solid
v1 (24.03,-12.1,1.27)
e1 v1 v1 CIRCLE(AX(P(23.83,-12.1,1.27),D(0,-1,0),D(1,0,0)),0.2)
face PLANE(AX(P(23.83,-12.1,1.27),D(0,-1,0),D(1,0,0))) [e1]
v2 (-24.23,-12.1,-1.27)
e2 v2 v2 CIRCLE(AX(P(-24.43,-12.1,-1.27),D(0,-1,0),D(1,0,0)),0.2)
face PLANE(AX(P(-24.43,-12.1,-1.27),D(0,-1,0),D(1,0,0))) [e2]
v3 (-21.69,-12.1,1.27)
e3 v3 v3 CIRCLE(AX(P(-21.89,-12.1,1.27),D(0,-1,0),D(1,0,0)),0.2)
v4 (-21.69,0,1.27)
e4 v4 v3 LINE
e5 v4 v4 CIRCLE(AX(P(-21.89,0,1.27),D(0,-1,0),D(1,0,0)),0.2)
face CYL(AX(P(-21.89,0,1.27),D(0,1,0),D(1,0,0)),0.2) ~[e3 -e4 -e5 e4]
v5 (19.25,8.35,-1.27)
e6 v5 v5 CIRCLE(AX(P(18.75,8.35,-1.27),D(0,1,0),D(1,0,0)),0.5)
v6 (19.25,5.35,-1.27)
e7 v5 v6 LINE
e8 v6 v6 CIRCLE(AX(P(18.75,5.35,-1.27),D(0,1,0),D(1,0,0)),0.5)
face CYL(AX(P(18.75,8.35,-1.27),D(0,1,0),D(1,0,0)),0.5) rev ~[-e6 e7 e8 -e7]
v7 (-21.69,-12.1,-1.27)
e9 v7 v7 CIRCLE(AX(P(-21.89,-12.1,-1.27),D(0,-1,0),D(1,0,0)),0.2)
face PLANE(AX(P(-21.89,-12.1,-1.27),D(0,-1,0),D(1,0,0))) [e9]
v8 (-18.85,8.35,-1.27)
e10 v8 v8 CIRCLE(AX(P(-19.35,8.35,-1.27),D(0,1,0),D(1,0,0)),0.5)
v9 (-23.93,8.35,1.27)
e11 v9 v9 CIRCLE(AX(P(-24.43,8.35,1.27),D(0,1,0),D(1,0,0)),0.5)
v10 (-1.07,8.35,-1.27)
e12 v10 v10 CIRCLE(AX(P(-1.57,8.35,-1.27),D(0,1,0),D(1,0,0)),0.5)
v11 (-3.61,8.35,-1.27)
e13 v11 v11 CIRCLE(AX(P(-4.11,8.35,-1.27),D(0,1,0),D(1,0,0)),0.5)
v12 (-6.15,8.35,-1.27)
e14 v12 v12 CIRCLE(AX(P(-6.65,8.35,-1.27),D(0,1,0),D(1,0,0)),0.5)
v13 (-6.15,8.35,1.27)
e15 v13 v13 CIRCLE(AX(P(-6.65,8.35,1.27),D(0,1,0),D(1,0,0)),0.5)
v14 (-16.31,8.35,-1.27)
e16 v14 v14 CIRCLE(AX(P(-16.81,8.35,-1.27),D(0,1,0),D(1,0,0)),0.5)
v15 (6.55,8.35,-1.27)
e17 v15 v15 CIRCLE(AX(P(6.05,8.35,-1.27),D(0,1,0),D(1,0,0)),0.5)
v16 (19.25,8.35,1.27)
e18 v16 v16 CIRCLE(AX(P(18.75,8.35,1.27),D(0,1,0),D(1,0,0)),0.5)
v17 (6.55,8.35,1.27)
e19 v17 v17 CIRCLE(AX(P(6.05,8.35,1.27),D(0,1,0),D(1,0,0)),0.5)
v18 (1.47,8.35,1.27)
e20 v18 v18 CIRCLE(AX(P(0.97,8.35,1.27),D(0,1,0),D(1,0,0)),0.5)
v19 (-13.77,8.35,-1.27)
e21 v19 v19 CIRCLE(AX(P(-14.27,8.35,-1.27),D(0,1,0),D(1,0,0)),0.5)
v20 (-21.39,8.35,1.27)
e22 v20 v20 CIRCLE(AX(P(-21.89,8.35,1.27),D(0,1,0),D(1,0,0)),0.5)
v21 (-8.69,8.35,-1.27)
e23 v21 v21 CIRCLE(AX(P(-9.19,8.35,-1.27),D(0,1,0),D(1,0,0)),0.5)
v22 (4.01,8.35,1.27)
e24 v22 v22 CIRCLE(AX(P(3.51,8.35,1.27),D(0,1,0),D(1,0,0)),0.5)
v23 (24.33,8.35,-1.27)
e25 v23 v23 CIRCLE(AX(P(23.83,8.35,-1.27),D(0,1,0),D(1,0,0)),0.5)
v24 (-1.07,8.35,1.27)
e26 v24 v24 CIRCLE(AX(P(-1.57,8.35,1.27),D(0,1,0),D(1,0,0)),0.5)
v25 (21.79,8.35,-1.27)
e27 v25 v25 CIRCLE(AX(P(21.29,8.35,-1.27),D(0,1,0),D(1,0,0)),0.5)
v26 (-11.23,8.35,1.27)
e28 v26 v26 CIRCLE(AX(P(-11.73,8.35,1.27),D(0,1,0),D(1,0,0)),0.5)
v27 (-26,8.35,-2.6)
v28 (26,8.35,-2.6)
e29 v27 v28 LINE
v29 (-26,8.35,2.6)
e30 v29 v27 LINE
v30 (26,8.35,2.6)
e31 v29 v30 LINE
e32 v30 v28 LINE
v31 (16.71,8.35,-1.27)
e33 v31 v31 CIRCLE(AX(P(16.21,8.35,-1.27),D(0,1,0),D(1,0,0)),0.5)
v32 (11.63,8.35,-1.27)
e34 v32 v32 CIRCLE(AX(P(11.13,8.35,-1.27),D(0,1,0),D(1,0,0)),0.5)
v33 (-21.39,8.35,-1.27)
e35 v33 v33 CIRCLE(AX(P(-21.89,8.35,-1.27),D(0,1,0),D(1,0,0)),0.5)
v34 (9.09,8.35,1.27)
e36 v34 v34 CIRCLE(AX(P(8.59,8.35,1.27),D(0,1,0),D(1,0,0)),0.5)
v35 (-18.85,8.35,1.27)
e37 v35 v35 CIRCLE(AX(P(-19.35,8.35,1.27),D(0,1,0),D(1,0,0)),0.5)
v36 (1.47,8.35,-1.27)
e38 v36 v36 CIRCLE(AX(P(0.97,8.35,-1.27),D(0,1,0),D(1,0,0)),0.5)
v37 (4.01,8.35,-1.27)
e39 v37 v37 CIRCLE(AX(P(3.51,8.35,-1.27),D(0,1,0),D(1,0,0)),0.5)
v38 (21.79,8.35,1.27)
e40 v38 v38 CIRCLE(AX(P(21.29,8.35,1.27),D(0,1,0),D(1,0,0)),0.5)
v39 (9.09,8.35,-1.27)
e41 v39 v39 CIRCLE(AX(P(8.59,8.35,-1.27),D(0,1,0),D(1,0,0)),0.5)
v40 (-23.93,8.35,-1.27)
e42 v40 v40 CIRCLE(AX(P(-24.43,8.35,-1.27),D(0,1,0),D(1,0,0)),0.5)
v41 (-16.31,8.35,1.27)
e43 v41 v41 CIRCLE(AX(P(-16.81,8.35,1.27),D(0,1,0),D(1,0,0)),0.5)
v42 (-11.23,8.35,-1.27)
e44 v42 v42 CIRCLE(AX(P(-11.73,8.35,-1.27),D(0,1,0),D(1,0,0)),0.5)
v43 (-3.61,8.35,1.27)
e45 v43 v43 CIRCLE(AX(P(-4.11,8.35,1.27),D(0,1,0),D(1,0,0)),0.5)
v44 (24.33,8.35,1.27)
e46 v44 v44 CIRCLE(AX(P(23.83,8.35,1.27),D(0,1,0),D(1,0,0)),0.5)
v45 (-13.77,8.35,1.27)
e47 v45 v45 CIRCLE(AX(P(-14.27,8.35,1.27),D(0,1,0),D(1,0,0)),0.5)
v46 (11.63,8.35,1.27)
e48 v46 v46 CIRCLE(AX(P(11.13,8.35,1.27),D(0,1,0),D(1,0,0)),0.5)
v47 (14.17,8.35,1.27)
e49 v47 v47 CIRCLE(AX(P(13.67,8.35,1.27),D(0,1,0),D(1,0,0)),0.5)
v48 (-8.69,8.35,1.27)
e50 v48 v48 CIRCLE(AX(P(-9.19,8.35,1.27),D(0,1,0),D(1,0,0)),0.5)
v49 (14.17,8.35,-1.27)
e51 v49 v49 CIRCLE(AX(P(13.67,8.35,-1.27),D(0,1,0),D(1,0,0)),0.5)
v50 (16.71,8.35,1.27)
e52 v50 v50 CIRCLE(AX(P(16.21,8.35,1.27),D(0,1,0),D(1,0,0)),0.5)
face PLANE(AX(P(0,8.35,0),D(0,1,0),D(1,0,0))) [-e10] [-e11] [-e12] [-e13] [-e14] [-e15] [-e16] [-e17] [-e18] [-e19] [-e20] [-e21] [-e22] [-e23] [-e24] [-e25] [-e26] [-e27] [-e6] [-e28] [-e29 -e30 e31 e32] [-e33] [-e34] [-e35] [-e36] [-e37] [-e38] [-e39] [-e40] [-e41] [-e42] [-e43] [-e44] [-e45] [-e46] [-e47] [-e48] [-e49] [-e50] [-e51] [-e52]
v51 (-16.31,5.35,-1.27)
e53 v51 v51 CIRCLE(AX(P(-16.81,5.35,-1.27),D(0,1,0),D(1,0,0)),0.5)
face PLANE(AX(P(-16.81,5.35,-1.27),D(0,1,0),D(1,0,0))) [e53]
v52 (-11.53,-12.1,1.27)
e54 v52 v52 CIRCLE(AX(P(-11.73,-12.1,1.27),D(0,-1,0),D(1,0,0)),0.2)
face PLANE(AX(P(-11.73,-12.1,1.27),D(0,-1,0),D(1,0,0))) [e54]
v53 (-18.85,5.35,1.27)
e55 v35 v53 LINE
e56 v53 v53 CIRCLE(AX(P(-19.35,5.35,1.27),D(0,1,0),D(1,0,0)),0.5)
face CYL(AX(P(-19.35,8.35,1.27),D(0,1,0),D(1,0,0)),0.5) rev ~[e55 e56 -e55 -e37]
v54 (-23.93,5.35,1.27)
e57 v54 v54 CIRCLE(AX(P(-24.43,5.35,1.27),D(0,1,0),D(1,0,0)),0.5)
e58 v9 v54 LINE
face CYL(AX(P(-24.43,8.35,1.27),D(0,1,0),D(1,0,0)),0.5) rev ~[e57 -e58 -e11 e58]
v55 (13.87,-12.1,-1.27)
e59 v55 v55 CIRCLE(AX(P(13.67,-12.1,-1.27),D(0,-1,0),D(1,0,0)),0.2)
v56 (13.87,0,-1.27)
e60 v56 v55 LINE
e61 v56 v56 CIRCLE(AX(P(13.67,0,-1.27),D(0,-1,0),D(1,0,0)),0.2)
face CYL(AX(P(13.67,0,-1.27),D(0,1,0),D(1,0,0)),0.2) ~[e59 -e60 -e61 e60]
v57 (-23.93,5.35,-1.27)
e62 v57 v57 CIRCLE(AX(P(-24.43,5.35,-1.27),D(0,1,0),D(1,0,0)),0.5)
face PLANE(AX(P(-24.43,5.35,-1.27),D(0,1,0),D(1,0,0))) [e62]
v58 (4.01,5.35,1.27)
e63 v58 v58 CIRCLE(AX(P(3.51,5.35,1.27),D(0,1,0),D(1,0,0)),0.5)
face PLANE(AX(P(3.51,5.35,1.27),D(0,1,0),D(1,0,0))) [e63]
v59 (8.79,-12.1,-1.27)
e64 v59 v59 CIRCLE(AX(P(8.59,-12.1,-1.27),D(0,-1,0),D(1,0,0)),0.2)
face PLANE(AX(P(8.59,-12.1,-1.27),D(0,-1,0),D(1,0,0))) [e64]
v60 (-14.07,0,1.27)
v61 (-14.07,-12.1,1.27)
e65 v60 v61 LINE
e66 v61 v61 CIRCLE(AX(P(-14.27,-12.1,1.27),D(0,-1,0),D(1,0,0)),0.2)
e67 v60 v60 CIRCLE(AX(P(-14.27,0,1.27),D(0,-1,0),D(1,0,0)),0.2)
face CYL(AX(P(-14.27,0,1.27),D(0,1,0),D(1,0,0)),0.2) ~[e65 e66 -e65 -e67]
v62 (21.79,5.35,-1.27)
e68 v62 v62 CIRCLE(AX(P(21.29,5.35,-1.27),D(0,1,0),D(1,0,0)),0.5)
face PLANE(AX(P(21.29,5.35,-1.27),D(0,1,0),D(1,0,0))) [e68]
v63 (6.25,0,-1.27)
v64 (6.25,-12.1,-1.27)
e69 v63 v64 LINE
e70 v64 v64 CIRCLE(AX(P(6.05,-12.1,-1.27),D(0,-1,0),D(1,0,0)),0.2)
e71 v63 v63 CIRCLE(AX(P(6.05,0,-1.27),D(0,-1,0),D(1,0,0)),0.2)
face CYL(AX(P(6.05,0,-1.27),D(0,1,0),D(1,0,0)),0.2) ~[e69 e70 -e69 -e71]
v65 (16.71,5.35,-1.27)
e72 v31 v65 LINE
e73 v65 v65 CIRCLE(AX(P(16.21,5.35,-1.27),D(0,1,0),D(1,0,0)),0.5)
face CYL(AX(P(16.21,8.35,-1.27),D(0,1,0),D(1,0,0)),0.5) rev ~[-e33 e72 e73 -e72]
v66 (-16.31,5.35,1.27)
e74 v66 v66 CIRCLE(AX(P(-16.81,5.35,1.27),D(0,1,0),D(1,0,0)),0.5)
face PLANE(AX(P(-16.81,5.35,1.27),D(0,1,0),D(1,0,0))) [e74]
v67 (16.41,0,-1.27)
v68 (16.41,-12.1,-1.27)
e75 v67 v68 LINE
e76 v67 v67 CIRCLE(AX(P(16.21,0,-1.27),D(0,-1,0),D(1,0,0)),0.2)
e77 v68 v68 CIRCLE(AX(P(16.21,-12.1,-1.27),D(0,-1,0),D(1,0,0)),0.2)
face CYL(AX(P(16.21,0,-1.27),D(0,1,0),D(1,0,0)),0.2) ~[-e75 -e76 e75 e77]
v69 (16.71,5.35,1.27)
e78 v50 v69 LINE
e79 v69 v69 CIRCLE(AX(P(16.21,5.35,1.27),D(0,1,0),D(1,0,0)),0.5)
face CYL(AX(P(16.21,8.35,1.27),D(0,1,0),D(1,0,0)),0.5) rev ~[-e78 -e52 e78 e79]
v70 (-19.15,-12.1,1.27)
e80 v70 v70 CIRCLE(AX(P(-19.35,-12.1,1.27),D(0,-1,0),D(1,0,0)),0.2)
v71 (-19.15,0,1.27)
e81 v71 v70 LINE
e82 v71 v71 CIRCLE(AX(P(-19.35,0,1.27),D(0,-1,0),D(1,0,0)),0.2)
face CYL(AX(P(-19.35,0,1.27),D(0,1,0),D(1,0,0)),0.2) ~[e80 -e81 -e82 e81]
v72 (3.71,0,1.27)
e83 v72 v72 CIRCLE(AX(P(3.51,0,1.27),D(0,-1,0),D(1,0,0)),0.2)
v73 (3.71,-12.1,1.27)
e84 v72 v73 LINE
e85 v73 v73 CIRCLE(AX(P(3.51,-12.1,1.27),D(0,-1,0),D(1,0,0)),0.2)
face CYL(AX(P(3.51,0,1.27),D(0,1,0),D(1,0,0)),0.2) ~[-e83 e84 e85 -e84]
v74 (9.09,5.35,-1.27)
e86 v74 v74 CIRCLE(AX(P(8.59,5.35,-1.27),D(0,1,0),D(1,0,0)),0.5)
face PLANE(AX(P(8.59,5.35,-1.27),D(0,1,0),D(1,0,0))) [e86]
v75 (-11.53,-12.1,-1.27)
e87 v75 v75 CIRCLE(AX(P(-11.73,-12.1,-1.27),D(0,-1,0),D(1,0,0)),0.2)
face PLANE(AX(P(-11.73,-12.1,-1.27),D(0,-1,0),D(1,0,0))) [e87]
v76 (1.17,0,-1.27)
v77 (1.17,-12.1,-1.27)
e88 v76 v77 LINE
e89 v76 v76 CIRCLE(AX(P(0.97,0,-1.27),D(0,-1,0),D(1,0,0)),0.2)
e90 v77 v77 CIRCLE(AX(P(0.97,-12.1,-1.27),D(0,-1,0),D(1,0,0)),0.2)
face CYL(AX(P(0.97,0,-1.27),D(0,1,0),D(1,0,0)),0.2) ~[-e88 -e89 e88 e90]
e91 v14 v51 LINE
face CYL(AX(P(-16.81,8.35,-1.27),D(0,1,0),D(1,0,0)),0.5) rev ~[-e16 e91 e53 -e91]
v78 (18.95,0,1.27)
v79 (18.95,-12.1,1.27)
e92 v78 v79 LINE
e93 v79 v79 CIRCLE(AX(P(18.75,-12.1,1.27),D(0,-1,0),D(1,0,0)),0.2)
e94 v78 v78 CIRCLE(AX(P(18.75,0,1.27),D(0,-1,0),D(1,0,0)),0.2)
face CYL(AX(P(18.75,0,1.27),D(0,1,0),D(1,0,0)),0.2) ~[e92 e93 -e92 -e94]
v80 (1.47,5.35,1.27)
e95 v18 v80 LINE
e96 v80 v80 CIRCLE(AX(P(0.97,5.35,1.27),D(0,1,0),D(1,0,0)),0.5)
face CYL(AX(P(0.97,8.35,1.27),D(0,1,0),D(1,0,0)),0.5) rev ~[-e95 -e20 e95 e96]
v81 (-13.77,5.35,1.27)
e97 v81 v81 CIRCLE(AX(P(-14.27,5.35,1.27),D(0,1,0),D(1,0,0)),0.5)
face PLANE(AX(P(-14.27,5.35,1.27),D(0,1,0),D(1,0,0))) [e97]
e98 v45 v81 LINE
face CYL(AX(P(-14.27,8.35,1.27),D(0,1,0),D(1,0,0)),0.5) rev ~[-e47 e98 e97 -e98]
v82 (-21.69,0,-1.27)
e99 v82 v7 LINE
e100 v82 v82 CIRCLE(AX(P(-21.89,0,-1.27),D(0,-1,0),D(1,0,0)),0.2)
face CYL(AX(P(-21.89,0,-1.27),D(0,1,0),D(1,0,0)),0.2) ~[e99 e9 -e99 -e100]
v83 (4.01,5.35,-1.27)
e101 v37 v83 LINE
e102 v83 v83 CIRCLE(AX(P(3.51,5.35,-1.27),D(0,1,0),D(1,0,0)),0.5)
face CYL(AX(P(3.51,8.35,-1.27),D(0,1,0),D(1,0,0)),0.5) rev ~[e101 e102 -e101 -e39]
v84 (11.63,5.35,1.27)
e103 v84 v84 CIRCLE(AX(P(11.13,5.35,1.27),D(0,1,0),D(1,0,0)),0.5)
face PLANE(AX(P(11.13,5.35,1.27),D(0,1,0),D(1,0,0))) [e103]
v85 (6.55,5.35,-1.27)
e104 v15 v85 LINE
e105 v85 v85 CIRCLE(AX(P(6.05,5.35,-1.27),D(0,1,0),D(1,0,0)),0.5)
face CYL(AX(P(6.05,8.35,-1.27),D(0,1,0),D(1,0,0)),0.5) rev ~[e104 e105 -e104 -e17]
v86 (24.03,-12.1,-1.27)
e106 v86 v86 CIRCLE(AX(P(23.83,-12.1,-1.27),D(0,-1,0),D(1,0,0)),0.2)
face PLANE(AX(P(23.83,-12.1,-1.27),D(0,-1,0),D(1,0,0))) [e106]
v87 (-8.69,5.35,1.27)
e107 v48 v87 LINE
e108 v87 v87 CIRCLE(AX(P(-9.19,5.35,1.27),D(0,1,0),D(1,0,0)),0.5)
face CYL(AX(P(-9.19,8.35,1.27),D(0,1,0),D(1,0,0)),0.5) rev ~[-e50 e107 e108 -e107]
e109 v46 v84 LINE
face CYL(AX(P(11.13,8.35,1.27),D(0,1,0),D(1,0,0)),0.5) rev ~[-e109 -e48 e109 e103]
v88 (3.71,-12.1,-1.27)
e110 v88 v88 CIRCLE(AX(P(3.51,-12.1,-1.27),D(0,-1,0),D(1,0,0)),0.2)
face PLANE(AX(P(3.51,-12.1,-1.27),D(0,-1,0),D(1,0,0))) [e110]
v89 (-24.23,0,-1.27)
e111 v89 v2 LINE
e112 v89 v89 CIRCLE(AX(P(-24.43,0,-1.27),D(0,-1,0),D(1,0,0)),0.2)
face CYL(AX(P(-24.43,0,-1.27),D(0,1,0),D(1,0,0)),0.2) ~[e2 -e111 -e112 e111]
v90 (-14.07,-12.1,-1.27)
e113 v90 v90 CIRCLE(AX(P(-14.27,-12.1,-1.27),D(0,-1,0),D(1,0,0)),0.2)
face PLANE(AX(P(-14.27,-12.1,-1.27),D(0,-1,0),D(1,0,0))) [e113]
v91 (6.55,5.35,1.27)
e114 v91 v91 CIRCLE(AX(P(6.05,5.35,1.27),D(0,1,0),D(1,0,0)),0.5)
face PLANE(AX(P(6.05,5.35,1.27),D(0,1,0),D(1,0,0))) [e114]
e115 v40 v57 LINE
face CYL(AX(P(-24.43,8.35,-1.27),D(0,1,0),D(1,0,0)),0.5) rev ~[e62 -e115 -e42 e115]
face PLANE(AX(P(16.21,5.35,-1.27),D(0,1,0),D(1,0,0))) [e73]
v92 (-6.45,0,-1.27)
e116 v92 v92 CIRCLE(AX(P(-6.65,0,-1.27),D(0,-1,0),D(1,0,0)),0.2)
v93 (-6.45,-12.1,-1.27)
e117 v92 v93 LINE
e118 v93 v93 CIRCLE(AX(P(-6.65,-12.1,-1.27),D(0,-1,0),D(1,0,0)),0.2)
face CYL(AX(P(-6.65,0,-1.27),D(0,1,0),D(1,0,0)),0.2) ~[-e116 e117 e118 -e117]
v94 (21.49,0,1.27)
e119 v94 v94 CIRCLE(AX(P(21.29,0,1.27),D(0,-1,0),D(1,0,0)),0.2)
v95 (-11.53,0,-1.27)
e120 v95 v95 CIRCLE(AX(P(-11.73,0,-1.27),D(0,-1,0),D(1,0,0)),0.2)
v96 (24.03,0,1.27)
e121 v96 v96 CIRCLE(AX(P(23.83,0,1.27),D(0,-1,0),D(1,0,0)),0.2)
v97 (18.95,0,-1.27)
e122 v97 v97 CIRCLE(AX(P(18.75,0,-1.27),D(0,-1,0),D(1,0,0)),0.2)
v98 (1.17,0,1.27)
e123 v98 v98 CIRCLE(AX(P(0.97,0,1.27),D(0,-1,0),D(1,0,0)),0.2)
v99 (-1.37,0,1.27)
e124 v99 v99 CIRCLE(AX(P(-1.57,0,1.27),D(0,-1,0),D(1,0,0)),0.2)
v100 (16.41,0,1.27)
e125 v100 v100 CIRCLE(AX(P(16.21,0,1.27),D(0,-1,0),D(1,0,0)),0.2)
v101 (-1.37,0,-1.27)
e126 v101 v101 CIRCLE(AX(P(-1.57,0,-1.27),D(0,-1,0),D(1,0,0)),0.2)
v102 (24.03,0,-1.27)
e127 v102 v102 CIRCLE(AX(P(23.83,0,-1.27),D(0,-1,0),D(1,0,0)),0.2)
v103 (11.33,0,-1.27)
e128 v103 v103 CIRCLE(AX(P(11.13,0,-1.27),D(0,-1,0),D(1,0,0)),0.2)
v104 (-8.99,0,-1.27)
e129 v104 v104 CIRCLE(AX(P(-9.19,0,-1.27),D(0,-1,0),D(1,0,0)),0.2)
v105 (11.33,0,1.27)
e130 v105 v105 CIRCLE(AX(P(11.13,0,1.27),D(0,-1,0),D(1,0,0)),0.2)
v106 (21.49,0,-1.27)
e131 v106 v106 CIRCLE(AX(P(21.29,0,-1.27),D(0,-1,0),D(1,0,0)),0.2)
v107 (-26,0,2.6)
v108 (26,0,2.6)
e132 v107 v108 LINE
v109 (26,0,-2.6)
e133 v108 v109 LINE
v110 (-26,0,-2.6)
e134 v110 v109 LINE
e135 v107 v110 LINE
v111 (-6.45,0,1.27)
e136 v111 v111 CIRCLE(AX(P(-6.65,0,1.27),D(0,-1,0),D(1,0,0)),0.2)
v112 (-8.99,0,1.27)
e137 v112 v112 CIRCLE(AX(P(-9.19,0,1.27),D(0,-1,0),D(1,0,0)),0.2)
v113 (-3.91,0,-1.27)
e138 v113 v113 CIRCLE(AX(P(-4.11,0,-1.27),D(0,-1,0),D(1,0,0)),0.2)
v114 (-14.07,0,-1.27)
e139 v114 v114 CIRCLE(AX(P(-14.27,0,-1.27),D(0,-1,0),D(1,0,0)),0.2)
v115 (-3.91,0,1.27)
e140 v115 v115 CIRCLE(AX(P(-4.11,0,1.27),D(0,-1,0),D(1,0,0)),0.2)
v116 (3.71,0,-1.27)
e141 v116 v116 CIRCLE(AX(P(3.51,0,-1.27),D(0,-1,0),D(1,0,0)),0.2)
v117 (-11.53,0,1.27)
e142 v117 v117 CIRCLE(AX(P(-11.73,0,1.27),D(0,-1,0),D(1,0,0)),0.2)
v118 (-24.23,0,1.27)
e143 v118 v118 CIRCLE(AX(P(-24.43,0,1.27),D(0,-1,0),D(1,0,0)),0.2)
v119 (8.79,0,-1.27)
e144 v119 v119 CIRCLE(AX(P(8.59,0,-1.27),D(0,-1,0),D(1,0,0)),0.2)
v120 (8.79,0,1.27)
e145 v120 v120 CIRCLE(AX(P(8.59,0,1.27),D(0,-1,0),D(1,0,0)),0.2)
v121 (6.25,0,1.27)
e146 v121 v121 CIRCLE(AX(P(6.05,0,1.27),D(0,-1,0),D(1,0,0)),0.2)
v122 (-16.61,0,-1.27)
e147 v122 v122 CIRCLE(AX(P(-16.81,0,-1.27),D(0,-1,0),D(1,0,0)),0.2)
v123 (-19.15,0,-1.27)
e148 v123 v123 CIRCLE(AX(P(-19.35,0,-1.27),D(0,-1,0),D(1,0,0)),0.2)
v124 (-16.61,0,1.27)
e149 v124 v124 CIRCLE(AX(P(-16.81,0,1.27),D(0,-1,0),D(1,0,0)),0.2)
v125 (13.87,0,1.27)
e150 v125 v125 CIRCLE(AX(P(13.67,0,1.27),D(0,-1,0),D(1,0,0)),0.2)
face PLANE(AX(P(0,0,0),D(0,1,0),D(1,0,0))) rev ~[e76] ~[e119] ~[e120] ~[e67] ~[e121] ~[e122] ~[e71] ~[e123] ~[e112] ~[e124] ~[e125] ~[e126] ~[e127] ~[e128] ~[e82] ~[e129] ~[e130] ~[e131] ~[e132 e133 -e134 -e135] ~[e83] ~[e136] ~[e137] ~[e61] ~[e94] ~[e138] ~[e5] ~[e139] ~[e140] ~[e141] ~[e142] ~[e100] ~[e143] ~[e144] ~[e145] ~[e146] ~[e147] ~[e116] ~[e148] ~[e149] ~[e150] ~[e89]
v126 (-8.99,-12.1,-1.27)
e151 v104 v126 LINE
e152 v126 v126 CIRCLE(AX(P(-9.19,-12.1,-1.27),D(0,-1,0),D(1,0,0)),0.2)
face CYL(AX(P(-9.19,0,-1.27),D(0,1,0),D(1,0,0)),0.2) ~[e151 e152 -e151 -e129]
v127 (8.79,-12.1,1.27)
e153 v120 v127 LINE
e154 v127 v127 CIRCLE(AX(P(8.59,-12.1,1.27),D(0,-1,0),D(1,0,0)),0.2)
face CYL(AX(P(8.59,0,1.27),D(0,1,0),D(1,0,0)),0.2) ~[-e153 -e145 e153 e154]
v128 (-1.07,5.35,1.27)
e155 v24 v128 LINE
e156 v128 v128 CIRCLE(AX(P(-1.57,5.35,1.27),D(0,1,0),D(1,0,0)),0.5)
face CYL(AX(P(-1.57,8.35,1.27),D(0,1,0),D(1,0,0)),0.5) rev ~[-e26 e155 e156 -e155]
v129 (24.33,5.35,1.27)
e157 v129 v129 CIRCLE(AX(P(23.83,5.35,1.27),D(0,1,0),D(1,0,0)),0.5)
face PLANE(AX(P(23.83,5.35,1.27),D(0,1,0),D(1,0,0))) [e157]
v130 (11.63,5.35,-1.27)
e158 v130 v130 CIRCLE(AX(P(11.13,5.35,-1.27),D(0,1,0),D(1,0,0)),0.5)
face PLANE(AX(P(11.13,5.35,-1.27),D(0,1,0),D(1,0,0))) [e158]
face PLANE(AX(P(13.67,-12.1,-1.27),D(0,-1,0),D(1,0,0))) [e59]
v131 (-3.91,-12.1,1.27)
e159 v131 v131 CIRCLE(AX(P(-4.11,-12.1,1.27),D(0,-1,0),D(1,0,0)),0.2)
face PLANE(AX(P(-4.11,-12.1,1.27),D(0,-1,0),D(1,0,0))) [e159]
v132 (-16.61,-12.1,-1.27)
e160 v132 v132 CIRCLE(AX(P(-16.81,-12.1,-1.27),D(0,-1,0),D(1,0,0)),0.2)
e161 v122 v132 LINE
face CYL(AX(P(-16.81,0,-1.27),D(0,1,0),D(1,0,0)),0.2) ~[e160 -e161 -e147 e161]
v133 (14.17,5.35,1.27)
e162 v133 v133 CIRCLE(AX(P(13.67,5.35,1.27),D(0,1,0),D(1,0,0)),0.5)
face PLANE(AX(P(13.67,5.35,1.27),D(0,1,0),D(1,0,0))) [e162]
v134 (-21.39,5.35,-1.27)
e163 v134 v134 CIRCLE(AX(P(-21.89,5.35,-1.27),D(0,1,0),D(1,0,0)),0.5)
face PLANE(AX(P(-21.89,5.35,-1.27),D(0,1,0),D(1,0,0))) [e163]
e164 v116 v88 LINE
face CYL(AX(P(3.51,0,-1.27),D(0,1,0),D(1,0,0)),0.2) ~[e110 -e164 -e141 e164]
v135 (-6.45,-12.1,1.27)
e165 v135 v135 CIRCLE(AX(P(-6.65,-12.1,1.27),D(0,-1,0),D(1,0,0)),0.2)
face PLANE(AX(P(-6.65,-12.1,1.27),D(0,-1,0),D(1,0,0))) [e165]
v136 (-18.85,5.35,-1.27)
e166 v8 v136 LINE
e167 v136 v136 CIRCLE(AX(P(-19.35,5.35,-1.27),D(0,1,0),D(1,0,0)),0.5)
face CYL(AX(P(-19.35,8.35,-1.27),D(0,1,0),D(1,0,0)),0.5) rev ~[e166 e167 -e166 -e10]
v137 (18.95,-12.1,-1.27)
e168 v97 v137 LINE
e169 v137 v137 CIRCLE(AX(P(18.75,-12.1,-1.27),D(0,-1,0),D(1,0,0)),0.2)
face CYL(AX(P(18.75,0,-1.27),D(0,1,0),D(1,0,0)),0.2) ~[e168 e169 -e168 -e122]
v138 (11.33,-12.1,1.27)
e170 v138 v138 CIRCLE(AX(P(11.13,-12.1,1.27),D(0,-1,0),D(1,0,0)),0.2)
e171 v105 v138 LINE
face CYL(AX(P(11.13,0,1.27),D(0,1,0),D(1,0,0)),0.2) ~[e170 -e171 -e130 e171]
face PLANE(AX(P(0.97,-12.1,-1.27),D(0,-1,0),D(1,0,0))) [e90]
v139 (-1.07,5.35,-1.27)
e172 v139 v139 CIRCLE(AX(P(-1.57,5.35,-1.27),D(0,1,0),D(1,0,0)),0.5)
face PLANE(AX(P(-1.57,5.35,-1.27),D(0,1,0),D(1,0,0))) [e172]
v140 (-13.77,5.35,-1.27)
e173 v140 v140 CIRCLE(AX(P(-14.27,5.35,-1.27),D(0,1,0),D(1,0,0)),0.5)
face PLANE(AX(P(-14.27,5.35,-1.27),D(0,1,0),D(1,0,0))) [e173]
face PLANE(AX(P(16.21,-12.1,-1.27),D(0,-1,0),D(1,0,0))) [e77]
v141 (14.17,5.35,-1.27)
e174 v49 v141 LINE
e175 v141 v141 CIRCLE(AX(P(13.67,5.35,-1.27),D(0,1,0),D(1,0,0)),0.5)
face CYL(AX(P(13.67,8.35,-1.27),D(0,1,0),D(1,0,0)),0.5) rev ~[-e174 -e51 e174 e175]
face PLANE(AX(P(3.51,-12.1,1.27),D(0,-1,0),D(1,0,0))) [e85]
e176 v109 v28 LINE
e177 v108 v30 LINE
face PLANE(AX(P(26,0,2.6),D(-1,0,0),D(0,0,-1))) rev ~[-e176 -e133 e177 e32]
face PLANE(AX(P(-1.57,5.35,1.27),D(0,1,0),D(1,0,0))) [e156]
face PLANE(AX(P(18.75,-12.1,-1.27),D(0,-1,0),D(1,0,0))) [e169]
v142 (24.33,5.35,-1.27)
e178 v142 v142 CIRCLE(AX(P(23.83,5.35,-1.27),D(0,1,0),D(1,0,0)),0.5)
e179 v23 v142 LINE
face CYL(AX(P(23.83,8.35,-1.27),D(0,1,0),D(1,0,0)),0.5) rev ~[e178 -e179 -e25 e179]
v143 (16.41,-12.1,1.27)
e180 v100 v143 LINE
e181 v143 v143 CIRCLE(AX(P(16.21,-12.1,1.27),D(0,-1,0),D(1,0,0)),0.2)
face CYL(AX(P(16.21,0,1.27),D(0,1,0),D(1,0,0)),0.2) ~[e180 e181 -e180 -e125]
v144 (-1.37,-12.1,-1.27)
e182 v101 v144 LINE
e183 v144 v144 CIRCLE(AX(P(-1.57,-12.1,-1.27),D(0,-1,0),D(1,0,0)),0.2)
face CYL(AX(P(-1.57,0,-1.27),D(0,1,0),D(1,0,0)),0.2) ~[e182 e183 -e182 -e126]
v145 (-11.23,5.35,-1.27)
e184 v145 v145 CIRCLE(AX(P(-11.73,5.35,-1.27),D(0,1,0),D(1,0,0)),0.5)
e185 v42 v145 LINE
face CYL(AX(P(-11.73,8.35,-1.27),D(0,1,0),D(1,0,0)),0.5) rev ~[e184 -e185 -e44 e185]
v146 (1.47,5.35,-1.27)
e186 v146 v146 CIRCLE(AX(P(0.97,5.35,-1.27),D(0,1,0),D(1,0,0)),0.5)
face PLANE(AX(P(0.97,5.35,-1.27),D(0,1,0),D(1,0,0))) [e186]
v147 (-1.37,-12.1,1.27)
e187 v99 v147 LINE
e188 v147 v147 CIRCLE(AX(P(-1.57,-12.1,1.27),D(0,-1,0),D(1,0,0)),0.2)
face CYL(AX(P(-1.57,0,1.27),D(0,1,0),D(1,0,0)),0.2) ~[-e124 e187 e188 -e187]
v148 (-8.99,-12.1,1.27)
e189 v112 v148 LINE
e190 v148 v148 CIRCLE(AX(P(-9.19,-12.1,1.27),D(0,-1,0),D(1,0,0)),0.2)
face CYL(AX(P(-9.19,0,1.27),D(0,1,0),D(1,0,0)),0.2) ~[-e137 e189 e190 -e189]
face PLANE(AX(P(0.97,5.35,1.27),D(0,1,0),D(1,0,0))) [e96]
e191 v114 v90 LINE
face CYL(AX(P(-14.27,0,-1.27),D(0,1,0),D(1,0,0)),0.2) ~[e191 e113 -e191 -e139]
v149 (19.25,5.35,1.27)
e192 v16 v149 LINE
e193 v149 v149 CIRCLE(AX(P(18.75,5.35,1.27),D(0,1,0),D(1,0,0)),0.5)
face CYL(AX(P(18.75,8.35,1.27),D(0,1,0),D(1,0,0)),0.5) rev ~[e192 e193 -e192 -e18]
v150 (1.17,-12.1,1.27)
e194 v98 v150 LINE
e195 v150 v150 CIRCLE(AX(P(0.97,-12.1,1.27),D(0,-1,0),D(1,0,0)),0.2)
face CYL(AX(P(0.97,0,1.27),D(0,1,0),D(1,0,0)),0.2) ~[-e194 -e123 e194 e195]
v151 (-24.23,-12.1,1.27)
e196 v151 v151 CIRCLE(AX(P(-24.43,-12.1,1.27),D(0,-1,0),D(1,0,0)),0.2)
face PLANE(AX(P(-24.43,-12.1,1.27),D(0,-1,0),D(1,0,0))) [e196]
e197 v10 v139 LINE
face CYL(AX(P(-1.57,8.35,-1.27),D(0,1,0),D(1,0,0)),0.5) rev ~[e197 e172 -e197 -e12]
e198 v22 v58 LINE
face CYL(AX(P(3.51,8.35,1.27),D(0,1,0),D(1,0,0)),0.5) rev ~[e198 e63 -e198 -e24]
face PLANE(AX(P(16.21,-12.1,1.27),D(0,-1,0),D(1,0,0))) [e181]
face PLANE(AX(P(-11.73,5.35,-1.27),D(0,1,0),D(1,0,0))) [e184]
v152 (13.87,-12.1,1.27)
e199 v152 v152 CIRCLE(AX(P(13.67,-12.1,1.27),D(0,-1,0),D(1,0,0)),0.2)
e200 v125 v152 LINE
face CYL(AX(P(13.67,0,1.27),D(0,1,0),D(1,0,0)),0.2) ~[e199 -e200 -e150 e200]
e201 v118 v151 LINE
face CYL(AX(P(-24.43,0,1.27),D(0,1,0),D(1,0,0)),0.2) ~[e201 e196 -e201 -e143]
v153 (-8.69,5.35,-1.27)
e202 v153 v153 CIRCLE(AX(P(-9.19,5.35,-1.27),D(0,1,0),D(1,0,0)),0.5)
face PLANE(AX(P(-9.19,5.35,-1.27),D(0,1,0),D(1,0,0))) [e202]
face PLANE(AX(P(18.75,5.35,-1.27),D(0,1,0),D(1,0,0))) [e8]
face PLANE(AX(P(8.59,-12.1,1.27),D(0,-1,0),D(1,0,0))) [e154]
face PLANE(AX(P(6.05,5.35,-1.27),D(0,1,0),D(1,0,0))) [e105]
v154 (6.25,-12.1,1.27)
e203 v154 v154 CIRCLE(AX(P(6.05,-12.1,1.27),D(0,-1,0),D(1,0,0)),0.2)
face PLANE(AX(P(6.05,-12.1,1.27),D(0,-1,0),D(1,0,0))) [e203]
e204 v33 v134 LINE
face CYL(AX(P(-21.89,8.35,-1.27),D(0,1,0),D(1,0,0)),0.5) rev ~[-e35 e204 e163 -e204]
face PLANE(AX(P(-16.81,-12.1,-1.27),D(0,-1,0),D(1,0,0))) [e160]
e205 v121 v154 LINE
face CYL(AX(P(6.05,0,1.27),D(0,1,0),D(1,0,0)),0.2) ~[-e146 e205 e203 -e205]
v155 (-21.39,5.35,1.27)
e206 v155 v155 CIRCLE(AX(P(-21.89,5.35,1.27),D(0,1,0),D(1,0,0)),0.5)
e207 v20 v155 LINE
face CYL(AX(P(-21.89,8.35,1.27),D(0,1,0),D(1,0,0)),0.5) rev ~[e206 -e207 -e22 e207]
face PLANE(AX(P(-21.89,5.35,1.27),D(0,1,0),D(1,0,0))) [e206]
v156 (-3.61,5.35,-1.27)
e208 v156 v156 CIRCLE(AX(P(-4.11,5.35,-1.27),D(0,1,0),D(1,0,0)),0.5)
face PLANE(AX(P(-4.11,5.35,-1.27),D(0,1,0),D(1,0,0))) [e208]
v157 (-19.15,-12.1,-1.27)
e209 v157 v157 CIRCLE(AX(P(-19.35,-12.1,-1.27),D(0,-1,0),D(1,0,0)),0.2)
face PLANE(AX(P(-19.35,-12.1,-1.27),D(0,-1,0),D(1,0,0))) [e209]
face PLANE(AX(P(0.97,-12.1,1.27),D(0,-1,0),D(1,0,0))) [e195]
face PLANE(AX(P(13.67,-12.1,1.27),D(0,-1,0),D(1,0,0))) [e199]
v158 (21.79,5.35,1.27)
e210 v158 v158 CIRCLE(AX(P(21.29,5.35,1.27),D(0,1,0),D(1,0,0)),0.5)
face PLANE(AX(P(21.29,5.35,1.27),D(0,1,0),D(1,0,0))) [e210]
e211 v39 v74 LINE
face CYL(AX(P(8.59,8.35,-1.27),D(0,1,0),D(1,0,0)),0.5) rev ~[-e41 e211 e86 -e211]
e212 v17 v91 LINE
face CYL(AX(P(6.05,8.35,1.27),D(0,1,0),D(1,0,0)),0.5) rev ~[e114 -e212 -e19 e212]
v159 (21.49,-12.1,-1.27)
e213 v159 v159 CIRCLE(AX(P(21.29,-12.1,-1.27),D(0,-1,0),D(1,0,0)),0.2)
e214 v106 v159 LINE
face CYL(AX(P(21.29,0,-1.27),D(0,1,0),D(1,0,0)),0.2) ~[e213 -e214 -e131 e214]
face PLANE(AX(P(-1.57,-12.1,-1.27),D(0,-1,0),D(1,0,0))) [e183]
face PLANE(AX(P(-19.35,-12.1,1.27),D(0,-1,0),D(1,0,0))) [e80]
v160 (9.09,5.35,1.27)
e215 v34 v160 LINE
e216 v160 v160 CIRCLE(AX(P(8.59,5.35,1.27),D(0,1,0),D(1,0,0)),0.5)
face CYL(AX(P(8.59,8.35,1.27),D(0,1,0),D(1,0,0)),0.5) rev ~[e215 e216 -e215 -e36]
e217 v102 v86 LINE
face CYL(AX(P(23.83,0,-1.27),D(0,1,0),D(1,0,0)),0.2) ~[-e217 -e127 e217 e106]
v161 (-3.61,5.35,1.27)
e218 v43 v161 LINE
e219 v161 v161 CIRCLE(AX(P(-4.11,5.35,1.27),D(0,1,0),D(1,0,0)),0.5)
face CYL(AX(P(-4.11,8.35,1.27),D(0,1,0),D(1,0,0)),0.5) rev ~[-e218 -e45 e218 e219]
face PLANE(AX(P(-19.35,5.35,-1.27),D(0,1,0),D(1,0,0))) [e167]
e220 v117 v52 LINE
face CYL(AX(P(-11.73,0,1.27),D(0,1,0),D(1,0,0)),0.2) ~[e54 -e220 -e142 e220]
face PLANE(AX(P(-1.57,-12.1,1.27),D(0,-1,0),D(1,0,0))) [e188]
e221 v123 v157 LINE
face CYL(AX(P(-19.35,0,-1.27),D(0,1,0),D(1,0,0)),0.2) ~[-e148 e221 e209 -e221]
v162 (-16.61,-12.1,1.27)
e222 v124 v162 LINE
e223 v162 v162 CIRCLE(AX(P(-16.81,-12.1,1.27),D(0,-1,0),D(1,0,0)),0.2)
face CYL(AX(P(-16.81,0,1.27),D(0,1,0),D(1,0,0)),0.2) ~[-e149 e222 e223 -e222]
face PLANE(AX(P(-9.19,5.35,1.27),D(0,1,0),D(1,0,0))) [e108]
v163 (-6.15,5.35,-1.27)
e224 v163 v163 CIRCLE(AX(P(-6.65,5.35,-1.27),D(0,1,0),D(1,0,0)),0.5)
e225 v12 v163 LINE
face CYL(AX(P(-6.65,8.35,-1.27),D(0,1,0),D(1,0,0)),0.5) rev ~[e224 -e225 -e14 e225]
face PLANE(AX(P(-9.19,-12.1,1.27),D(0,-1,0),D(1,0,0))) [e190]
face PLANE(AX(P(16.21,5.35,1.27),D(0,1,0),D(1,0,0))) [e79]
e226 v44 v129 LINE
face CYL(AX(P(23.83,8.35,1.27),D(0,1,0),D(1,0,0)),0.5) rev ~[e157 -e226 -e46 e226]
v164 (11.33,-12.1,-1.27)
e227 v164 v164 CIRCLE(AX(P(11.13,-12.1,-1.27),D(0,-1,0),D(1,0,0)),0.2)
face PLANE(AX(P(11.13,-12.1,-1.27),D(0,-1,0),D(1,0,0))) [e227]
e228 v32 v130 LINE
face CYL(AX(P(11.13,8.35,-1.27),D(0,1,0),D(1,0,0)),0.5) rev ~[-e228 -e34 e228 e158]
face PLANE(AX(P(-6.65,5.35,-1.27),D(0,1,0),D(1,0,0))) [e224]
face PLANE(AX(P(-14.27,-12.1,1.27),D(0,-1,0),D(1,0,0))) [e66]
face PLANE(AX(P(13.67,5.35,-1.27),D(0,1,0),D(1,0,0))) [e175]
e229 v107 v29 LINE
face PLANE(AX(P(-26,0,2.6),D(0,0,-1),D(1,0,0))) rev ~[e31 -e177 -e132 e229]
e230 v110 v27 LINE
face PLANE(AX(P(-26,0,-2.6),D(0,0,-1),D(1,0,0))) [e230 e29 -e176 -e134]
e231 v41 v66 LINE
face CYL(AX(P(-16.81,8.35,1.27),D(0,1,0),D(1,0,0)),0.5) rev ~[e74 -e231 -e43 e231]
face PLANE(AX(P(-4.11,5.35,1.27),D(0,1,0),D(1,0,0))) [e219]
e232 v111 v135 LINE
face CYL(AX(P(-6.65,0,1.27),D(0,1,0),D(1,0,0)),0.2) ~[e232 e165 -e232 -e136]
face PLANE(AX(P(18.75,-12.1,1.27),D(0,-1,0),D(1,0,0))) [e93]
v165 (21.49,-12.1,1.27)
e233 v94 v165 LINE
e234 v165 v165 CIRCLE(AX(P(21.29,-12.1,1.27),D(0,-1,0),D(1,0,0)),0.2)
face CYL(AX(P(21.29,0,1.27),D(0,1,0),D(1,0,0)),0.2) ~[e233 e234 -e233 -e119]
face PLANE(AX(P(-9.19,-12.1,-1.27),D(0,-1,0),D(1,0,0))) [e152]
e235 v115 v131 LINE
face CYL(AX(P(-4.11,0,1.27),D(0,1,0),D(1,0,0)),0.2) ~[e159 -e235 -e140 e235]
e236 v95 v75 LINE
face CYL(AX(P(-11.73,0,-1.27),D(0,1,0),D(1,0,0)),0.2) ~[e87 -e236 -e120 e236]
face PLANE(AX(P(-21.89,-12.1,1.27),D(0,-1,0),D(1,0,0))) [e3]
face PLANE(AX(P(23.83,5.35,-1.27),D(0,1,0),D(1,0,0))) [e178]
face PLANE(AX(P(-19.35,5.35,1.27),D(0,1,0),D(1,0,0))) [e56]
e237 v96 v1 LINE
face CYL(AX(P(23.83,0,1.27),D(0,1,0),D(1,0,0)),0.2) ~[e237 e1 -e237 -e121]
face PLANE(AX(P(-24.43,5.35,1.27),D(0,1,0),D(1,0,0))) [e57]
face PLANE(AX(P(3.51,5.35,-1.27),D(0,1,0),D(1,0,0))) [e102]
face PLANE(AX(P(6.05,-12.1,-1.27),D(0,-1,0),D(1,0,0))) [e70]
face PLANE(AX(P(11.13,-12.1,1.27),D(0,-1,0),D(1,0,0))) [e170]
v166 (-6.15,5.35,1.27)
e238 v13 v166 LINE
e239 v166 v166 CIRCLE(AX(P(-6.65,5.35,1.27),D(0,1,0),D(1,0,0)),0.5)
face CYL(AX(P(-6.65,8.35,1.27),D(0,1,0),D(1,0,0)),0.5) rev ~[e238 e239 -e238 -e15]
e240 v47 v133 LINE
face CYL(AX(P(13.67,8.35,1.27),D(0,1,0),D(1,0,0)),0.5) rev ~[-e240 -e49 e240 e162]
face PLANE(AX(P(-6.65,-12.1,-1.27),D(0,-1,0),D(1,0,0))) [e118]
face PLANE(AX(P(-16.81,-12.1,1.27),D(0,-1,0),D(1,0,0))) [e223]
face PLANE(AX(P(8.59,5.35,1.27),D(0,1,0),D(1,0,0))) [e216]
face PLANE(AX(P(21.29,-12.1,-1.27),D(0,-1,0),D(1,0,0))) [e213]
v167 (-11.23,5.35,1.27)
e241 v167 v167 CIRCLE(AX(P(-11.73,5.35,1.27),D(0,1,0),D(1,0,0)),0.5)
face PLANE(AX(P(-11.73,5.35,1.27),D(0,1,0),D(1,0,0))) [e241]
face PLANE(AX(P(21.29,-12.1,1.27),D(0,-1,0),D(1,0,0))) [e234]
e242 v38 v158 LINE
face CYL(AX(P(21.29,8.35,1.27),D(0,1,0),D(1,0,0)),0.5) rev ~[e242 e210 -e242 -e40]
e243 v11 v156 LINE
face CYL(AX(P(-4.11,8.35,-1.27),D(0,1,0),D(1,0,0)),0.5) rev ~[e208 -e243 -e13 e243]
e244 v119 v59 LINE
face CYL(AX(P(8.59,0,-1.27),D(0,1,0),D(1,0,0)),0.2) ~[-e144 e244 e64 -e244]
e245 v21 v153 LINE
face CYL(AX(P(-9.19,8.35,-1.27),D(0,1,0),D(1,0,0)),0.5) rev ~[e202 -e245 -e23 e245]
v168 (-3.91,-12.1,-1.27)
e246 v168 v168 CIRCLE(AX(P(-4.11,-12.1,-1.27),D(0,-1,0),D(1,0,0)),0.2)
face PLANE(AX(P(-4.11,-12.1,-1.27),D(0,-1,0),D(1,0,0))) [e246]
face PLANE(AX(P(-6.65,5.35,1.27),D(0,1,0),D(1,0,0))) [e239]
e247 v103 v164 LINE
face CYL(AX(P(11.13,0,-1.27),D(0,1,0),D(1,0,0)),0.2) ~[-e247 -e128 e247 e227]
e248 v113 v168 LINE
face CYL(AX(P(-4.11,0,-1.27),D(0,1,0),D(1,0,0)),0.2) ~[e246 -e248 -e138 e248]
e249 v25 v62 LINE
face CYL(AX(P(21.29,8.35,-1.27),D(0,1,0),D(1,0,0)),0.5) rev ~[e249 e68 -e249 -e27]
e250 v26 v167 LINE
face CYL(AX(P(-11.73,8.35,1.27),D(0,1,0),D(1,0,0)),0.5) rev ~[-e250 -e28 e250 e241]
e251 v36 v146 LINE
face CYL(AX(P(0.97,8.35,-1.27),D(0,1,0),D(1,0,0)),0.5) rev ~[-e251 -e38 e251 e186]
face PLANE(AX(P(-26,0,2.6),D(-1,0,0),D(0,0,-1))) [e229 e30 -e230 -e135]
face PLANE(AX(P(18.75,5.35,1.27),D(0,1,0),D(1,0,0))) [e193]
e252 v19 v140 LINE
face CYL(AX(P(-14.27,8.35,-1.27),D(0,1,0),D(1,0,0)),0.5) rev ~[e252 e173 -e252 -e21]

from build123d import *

# Parameters (mm, degrees)
SKETCH1_W           = 52
SKETCH1_H           = 5.2
BOSS_EXTRUDE1_DEPTH = 8.35
SKETCH2_R           = 0.5
CUT_EXTRUDE1_DEPTH  = 3
SKETCH3_R           = 0.2
BOSS_EXTRUDE2_DEPTH = 12.1
LPATTERN1_COUNT     = 20
LPATTERN1_PITCH     = 2.54


with BuildPart() as part:
    # Sketch1 → Boss-Extrude1 (new body)
    with BuildSketch(Plane(origin=(0, 0, 0), x_dir=(1, 0, 0), z_dir=(0, 1, 0))):
        Rectangle(SKETCH1_W, SKETCH1_H)
    extrude(amount=BOSS_EXTRUDE1_DEPTH)

    # Sketch2 → Cut-Extrude1 (cut)
    with BuildSketch(Plane(origin=(0, 8.35, 0), x_dir=(1, 0, 0), z_dir=(0, 1, 0))):
        with Locations((-24.43, 1.27)):
            Circle(SKETCH2_R)
        with Locations((-24.43, -1.27)):
            Circle(SKETCH2_R)
    cut_extrude1 = extrude(amount=-CUT_EXTRUDE1_DEPTH, mode=Mode.SUBTRACT)

    # Sketch3 → Boss-Extrude2 (add)
    with BuildSketch(Plane.XZ):
        with Locations((-24.43, 1.27)):
            Circle(SKETCH3_R)
        with Locations((-24.43, -1.27)):
            Circle(SKETCH3_R)
    boss_extrude2 = extrude(amount=BOSS_EXTRUDE2_DEPTH)

    # LPattern1: Cut-Extrude1, Boss-Extrude2 ×20
    with Locations(*[(i * LPATTERN1_PITCH, 0, 0) for i in range(1, LPATTERN1_COUNT)]):
        add(cut_extrude1, mode=Mode.SUBTRACT)
        add(boss_extrude2)


solid = part.part
